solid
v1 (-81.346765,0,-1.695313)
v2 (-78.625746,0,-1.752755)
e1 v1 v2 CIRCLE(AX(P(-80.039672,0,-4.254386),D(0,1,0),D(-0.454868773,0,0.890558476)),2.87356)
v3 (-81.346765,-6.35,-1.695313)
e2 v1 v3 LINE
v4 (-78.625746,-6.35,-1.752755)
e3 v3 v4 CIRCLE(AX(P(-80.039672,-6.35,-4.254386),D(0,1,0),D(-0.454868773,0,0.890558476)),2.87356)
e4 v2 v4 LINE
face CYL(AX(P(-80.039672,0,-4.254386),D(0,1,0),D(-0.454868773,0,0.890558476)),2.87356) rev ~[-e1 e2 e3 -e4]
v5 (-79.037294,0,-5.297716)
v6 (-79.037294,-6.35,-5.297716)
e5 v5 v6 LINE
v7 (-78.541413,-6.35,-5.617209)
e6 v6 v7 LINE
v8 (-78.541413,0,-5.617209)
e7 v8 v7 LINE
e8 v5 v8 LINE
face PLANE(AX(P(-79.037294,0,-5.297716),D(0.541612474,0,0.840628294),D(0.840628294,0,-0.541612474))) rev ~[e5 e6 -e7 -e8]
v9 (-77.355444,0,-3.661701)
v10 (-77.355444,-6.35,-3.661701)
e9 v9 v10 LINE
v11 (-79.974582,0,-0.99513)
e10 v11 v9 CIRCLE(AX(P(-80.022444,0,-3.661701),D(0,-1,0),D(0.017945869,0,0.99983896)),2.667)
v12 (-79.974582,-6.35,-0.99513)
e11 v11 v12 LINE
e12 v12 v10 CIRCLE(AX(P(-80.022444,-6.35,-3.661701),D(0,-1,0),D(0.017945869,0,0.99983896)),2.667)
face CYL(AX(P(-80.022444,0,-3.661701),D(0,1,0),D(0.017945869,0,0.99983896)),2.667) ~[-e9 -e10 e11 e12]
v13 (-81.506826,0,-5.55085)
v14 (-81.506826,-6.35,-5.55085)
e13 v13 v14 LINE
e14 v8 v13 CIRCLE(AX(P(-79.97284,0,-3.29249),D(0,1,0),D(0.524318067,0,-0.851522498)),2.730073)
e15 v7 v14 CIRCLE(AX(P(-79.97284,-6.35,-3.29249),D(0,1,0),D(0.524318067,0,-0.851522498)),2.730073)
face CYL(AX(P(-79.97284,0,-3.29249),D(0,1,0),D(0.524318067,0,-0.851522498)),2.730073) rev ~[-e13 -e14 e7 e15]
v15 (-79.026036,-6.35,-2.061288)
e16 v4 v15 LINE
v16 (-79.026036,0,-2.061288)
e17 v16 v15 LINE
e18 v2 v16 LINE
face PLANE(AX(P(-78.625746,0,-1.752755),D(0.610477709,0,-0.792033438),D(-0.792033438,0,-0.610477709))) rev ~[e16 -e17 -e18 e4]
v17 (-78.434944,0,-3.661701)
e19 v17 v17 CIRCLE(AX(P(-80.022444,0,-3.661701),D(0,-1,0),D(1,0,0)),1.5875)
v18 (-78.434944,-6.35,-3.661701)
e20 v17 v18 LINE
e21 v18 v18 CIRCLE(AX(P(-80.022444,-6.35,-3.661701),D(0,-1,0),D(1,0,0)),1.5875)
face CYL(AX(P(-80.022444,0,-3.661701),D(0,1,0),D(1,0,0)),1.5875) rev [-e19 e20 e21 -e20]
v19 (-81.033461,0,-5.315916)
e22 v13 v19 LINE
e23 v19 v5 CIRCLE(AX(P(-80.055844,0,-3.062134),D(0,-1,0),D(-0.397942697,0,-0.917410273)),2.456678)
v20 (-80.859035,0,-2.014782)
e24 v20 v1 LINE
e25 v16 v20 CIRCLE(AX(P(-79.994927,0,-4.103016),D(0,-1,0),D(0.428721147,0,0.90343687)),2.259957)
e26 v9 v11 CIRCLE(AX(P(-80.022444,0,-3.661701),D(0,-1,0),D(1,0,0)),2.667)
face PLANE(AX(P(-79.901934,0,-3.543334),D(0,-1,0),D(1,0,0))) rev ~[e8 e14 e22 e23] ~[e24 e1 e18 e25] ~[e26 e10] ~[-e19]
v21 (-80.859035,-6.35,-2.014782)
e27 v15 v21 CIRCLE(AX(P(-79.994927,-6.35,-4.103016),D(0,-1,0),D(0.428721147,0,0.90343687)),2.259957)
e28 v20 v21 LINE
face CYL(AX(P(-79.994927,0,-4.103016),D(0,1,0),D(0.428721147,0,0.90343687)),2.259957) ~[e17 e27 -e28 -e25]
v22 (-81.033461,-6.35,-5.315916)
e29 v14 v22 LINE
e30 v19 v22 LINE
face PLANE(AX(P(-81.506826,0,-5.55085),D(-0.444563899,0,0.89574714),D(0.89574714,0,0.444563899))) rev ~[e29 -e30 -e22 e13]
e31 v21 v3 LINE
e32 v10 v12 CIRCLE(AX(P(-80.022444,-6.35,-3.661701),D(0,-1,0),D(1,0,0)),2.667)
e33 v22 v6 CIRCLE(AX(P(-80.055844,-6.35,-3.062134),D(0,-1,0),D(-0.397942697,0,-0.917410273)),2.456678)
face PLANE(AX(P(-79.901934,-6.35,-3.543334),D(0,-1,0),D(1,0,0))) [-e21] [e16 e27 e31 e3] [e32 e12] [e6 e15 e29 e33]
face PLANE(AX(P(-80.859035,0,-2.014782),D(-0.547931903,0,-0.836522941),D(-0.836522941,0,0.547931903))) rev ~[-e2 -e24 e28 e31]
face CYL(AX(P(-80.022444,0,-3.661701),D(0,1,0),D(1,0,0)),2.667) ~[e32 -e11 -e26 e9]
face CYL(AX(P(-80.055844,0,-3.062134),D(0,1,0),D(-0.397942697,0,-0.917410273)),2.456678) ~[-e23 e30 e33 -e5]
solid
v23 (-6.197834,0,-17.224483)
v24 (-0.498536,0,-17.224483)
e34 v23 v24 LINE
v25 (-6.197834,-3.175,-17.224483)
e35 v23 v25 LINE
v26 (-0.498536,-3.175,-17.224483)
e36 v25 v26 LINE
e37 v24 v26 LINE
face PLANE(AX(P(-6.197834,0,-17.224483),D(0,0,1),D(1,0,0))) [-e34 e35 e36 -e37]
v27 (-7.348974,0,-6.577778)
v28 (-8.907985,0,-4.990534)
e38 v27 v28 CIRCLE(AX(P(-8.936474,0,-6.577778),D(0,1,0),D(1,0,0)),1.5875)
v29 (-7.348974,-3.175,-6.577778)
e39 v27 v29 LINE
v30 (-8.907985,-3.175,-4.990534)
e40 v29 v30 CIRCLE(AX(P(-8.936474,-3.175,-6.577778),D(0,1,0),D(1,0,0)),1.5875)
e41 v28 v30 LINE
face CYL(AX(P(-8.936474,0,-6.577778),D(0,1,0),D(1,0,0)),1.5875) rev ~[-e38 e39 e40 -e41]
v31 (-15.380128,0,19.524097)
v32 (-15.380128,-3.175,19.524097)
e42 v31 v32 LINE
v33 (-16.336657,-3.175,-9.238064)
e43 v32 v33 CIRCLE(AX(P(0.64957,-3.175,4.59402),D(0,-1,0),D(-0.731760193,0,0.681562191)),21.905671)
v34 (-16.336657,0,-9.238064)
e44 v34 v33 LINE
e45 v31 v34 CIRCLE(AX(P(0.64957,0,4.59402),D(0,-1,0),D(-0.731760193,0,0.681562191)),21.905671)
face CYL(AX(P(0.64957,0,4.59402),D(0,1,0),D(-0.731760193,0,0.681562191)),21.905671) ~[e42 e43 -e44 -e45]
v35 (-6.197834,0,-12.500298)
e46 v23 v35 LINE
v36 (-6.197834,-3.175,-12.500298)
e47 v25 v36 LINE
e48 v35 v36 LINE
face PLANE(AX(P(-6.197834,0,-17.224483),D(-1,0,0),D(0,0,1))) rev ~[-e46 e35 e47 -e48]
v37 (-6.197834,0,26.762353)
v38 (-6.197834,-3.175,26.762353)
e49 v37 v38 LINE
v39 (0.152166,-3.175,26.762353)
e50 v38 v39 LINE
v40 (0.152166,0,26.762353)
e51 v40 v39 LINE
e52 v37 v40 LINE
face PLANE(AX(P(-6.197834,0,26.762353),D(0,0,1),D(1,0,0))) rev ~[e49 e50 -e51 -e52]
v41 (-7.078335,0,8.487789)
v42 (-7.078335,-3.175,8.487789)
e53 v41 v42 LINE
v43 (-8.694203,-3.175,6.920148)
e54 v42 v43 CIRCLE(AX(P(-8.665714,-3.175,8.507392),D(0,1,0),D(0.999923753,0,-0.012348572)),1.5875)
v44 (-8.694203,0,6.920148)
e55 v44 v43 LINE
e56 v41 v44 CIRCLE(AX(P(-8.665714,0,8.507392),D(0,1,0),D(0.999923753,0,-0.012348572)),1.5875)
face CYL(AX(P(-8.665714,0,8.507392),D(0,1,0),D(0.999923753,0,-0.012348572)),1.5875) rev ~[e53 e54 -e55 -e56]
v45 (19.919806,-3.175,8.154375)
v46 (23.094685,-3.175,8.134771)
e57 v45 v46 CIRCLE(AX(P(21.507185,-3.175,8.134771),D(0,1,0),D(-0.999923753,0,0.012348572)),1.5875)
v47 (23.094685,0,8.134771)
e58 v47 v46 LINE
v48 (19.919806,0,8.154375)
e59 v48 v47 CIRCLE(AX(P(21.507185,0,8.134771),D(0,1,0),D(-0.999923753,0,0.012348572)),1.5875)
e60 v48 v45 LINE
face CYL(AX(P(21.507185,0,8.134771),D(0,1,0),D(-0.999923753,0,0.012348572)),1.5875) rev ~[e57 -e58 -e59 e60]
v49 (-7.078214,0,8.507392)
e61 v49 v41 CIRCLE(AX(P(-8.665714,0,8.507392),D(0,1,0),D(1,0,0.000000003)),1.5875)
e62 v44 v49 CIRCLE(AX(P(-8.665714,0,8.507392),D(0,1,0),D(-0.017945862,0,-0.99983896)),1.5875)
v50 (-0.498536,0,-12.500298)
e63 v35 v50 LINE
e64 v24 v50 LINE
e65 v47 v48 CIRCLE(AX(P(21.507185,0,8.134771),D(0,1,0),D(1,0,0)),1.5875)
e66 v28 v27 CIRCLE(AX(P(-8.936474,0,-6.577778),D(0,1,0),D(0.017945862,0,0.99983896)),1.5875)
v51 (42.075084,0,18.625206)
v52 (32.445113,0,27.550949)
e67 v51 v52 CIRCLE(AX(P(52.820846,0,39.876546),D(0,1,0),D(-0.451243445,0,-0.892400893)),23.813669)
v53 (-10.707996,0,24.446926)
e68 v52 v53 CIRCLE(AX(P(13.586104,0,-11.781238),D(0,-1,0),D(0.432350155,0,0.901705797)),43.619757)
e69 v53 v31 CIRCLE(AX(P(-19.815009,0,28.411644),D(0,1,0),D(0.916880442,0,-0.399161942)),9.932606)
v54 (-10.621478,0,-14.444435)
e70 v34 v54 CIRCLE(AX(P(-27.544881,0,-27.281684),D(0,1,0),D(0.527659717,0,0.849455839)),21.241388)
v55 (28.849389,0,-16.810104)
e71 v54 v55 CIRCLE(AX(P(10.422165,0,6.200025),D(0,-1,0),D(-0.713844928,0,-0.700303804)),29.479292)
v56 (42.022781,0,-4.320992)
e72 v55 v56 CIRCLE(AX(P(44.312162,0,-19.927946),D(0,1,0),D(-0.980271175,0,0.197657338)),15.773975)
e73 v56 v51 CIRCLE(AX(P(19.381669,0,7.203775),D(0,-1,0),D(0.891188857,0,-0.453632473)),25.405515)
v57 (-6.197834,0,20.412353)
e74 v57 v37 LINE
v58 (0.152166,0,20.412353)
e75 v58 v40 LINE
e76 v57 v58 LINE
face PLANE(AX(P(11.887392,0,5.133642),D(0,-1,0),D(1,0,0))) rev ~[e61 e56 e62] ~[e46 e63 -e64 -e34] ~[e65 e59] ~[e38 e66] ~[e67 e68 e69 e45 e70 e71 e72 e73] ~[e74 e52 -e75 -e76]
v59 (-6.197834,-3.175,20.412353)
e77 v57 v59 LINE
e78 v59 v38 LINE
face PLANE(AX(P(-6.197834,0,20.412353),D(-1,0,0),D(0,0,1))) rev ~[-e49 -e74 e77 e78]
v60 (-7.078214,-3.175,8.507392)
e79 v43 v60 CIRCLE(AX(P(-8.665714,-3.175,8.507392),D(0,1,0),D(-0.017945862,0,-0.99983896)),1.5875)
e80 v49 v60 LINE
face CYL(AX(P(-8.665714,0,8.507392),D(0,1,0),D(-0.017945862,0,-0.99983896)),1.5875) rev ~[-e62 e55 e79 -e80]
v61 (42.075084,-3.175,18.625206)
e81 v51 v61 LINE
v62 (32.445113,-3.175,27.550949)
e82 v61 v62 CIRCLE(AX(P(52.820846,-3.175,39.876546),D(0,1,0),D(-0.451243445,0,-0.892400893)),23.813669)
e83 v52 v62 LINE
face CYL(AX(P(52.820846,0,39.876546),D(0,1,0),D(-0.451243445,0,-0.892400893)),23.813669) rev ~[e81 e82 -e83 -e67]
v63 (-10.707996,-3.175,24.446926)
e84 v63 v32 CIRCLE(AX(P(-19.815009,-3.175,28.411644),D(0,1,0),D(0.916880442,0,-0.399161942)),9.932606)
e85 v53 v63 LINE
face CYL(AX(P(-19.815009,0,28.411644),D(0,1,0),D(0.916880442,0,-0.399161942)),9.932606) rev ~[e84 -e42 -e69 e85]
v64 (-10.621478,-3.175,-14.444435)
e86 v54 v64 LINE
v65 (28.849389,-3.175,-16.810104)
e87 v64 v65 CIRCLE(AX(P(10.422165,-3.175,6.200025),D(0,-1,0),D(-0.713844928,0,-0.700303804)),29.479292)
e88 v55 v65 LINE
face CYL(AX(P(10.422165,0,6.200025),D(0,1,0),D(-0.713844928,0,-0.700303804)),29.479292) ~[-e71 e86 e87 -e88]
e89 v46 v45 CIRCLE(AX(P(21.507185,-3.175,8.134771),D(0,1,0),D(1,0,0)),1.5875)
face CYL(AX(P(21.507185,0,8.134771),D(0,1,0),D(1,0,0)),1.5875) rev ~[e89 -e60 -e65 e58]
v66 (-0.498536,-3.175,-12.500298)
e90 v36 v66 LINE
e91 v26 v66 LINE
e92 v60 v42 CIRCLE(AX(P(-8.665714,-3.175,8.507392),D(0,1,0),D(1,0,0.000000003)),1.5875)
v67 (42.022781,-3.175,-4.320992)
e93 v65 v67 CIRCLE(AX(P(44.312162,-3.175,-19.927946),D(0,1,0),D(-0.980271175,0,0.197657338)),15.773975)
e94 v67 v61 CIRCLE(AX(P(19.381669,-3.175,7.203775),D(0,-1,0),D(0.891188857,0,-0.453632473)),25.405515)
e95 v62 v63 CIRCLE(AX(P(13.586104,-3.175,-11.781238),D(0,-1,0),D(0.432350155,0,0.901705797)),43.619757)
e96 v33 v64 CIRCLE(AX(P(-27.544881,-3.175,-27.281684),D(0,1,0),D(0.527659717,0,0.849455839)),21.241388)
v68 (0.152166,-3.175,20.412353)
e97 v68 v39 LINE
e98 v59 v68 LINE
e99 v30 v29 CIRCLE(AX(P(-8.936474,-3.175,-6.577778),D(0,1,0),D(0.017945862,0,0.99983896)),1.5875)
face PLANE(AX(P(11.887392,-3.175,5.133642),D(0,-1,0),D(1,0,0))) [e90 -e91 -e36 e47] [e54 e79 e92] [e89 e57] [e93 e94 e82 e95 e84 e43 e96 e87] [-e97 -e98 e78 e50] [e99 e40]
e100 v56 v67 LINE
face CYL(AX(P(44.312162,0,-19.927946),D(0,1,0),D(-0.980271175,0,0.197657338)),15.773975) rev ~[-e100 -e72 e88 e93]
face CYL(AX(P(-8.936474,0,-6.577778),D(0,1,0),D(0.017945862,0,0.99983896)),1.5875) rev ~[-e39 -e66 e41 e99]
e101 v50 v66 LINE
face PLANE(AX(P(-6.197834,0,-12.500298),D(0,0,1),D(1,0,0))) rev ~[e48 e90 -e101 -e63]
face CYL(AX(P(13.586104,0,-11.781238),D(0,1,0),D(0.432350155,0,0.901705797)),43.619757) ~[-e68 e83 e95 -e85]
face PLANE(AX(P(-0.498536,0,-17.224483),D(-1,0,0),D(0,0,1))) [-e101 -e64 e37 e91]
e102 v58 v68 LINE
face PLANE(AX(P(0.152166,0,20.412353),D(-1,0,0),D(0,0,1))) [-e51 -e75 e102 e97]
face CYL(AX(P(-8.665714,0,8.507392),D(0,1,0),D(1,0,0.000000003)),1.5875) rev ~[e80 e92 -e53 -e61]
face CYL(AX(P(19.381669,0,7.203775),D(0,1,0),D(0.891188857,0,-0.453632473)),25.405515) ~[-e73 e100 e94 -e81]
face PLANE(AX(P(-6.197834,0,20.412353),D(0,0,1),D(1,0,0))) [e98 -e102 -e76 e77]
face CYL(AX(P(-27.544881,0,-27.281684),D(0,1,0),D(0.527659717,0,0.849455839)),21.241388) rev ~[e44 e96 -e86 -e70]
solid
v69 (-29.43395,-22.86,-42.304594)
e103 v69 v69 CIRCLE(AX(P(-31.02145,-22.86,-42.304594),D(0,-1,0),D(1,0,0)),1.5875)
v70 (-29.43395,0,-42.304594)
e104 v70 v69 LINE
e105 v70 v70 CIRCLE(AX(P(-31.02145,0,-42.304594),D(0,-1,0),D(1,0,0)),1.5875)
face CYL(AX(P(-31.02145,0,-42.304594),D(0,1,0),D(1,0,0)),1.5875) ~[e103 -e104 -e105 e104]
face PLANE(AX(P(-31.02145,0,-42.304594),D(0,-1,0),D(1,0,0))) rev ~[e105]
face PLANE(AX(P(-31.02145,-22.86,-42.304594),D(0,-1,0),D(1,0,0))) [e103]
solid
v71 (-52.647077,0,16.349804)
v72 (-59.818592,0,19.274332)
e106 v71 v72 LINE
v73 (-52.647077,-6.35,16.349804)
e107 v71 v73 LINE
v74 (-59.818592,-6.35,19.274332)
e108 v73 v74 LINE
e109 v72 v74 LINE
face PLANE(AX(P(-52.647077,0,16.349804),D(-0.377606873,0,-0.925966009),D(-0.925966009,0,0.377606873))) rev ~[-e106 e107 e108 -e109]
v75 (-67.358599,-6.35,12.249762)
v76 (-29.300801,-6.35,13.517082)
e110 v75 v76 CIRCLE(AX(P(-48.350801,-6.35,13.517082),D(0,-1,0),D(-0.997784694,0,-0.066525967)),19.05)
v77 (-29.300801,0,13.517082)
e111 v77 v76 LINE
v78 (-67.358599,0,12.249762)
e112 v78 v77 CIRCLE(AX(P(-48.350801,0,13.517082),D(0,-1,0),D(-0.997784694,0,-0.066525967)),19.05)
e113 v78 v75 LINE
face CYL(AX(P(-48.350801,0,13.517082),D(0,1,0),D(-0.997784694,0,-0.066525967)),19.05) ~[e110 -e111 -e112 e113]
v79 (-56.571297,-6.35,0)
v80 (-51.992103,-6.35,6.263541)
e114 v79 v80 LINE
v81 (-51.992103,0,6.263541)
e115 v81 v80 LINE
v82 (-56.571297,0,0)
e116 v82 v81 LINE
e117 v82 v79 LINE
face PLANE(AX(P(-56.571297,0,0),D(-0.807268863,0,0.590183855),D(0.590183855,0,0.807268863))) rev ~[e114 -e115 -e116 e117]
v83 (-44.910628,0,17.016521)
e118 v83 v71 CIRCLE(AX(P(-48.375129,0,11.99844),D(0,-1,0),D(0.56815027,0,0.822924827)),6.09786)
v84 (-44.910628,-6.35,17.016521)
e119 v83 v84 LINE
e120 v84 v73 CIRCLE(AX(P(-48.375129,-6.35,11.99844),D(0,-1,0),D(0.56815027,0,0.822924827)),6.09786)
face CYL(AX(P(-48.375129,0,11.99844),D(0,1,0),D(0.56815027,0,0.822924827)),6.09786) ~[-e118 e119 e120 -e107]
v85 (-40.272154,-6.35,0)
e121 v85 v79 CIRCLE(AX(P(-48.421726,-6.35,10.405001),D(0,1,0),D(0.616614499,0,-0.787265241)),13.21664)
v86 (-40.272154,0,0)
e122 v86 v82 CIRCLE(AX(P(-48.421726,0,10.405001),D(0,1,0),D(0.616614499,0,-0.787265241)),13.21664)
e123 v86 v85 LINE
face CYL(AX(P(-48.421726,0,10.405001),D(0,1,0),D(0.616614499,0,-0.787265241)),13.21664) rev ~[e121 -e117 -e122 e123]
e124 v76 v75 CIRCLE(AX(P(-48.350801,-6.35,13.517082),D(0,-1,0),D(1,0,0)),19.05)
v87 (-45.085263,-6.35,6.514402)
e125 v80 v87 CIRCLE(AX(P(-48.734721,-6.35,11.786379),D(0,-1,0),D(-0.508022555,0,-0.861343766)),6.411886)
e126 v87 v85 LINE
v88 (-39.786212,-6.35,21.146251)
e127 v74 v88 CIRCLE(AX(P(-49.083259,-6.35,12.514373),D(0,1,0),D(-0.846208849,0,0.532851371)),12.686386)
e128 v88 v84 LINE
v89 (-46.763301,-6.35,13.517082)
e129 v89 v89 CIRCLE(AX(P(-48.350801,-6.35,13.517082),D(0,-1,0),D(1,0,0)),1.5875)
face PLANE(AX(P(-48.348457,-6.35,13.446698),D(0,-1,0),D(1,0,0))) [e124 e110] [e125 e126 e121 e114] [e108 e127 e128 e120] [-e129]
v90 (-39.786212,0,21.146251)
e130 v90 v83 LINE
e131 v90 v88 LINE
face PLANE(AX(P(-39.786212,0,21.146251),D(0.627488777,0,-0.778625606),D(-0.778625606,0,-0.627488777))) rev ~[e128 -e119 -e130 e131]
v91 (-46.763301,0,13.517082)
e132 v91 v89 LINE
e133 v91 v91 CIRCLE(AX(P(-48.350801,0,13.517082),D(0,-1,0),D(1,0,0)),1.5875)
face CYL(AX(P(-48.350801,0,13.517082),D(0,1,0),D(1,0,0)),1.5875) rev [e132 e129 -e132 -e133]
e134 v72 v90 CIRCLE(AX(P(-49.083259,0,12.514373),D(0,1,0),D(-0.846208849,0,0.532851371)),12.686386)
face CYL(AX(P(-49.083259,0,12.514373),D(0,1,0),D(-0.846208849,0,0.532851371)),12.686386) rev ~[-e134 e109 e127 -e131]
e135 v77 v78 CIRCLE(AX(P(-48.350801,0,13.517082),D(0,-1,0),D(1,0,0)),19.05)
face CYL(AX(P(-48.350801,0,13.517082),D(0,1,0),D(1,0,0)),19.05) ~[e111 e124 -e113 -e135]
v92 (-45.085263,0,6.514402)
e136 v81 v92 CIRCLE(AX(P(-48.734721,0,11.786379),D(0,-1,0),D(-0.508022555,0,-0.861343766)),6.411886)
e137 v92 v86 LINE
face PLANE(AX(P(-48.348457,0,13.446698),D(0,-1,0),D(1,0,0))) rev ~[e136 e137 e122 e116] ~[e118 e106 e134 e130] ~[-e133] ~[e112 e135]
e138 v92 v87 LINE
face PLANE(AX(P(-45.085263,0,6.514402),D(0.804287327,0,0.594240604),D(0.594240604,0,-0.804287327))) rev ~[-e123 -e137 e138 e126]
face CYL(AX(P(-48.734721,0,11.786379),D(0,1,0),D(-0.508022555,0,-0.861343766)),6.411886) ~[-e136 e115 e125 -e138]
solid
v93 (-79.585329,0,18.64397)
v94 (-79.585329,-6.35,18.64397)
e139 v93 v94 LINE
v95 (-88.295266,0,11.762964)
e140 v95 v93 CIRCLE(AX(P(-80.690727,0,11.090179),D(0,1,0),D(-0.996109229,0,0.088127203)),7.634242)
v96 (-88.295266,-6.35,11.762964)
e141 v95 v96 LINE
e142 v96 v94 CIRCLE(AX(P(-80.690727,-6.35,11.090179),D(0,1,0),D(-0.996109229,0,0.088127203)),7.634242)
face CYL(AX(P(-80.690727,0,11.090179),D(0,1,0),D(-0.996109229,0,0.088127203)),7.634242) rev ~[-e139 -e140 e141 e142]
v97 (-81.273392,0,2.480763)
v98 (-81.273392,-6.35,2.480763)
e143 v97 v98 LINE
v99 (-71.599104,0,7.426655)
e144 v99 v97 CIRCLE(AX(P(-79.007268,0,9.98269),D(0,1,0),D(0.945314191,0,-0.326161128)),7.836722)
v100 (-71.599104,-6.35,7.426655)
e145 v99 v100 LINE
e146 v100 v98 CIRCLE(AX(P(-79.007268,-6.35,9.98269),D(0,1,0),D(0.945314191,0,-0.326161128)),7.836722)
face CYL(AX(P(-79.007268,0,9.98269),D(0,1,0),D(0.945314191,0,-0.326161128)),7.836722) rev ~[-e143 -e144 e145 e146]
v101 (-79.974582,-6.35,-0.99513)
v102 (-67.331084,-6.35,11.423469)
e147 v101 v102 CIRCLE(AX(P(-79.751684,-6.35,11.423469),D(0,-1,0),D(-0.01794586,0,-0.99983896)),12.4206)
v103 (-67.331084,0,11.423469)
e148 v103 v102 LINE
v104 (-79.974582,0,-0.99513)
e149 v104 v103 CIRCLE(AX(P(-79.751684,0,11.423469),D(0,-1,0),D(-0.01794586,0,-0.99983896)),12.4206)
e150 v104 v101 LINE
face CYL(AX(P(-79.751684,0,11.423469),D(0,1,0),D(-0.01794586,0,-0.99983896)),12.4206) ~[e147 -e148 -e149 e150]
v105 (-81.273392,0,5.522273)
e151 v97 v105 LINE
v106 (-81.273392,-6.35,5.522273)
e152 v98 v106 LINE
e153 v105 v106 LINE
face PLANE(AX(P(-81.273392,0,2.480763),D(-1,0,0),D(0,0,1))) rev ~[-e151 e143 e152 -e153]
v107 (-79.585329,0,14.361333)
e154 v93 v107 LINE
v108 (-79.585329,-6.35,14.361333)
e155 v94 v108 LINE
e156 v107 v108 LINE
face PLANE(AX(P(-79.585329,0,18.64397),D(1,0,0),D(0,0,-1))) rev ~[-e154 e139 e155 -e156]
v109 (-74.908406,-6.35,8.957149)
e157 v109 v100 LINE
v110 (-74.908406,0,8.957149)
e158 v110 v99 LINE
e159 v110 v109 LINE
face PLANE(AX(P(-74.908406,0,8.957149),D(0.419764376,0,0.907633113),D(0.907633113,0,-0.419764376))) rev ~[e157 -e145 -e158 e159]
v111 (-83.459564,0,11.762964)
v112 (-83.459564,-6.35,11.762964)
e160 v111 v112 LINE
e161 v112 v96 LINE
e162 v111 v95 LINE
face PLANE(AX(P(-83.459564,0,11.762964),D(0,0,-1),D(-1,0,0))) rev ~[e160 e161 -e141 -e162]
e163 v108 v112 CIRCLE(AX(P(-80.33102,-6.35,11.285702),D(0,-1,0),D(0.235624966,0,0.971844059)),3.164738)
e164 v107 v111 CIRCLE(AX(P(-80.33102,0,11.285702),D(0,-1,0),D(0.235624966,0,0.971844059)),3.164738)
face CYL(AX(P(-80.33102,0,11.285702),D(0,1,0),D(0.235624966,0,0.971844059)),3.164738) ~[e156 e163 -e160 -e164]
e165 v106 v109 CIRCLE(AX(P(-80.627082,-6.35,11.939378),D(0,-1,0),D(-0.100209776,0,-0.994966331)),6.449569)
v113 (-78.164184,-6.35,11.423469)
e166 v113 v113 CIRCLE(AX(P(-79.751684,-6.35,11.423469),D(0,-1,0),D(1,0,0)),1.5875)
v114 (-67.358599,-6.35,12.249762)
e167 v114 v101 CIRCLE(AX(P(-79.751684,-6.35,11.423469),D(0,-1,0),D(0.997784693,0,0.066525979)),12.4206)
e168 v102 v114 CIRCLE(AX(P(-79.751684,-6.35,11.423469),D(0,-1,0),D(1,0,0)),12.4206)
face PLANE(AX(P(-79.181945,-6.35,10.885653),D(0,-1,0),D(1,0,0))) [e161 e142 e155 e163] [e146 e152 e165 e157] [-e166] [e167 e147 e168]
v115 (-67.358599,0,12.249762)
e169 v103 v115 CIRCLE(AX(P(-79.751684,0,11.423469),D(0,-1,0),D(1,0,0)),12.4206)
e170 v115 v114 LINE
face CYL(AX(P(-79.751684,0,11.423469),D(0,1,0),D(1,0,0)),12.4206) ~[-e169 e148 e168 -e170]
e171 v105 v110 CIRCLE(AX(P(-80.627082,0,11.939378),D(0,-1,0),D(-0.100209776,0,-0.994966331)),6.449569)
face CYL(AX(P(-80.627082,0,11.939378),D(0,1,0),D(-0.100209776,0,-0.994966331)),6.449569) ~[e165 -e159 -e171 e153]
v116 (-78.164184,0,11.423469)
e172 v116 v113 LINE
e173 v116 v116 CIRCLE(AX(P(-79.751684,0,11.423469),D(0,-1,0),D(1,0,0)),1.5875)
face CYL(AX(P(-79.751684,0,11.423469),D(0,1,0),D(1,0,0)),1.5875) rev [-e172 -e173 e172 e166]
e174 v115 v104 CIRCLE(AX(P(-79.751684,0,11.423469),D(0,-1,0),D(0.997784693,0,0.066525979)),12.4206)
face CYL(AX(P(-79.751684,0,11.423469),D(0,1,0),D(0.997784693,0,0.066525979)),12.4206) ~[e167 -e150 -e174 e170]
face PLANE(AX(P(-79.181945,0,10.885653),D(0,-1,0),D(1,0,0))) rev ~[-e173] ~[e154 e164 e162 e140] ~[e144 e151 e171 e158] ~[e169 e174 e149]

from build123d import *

# Parameters (mm, degrees)
F0_R     = 1.5875
F1_DEPTH = 6.35
F0_W     = 5.6992975482
F0_H     = 4.7241855249
F0_W_2   = 6.35
F0_H_2   = 6.35
F2_DEPTH = 3.175
F3_DEPTH = 22.86


with BuildPart() as f1:
    # F0 (on Front) → F1 (new body)
    with BuildSketch(Plane.XZ):
        with BuildLine():
            ThreePointArc((-67.3585994082, 12.2497619586), (-47.7167899216, -5.5223650535), (-29.3008009861, 13.5170816288))
            ThreePointArc((-29.3008009861, 13.5170816289), (-48.9848120507, 32.5565283112), (-67.3585994082, 12.2497619586))
        make_face()
        with BuildLine():
            Line((-56.5712973475, 0), (-51.9921034575, 6.2635407752))
            ThreePointArc((-51.9921034575, 6.2635407752), (-48.5019898602, 5.3787178579), (-45.0852625072, 6.5144021064))
            Line((-45.0852625072, 6.5144021064), (-40.272153914, 0))
            ThreePointArc((-40.272153914, 0), (-48.4217256308, -2.8116386768), (-56.5712973475, 0))
        make_face(mode=Mode.SUBTRACT)
        with Locations((-48.3508009861, 13.5170816289)):
            Circle(F0_R, mode=Mode.SUBTRACT)
        with BuildLine():
            Line((-52.6470765471, 16.3498036563), (-59.8185919225, 19.2743316293))
            ThreePointArc((-59.8185919225, 19.2743316293), (-50.2635926632, 25.1457315984), (-39.7862121463, 21.1462508887))
            Line((-39.7862121463, 21.1462508887), (-44.9106283486, 17.0165207237))
            ThreePointArc((-44.9106283486, 17.0165207237), (-48.8986942592, 18.0737820053), (-52.6470765471, 16.3498036563))
        make_face(mode=Mode.SUBTRACT)
    extrude(amount=F1_DEPTH)


with BuildPart() as f1b:
    # F0 (on Front) → F1, piece 2 (new body)
    with BuildSketch(Plane.XZ):
        with BuildLine():
            ThreePointArc((-67.3310839693, 11.423469383), (-67.337964735, 11.8368446725), (-67.3585994082, 12.2497619586))
            ThreePointArc((-67.3585994082, 12.2497619586), (-88.7453012362, 19.9900412071), (-79.9745823175, -0.9951304046))
            ThreePointArc((-79.9745823175, -0.9951304046), (-71.0481567207, 2.562322855), (-67.3310839693, 11.423469383))
        make_face()
        with BuildLine():
            Line((-81.2733918428, 2.4807630107), (-81.2733918428, 5.5222734809))
            ThreePointArc((-81.2733918428, 5.5222734809), (-77.5641064708, 6.2635407752), (-74.9084055424, 8.9571494609))
            Line((-74.9084055424, 8.9571494609), (-71.5991035104, 7.4266553856))
            ThreePointArc((-71.5991035104, 7.4266553856), (-75.4399710481, 3.004967367), (-81.2733918428, 2.4807630107))
        make_face(mode=Mode.SUBTRACT)
        with Locations((-79.7516839693, 11.423469383)):
            Circle(F0_R, mode=Mode.SUBTRACT)
        with BuildLine():
            Line((-83.4595635533, 11.7629636079), (-88.2952660322, 11.7629636079))
            ThreePointArc((-88.2952660322, 11.7629636079), (-85.4232493823, 17.0805786516), (-79.5853286982, 18.6439696699))
            Line((-79.5853286982, 18.6439696699), (-79.5853286982, 14.361333102))
            ThreePointArc((-79.5853286982, 14.361333102), (-82.0937953984, 13.9140446197), (-83.4595635533, 11.7629636079))
        make_face(mode=Mode.SUBTRACT)
    extrude(amount=F1_DEPTH)


with BuildPart() as f1c:
    # F0 (on Front) → F1, piece 3 (new body)
    with BuildSketch(Plane.XZ):
        with BuildLine():
            ThreePointArc((-77.3554439497, -3.6617009108), (-78.1197437667, -1.792845375), (-79.9745823175, -0.9951304046))
            ThreePointArc((-79.9745823175, -0.9951304046), (-81.9251441328, -5.5305564465), (-77.3554439497, -3.6617009108))
        make_face()
        with BuildLine():
            Line((-81.5068259835, -5.5508497171), (-81.0334607959, -5.3159161471))
            ThreePointArc((-81.0334607959, -5.3159161471), (-80.0334453121, -5.5187104426), (-79.0372937918, -5.2977157757))
            Line((-79.0372937918, -5.2977157757), (-78.5414129496, -5.6172092445))
            ThreePointArc((-78.5414129496, -5.6172092445), (-80.0339176232, -6.0218804194), (-81.5068259835, -5.5508497171))
        make_face(mode=Mode.SUBTRACT)
        with Locations((-80.0224439497, -3.6617009108)):
            Circle(F0_R, mode=Mode.SUBTRACT)
        with BuildLine():
            Line((-80.8590352535, -2.0147818141), (-81.3467651606, -1.6953132581))
            ThreePointArc((-81.3467651606, -1.6953132581), (-79.979023866, -1.3814665574), (-78.6257460713, -1.752755139))
            Line((-78.6257460713, -1.752755139), (-79.0260359645, -2.0612876397))
            ThreePointArc((-79.0260359645, -2.0612876397), (-79.9376072444, -1.8437861853), (-80.8590352535, -2.0147818141))
        make_face(mode=Mode.SUBTRACT)
    extrude(amount=F1_DEPTH)


with BuildPart() as f2:
    # F0 (on Front) → F2 (new body)
    with BuildSketch(Plane.XZ):
        with BuildLine():
            ThreePointArc((-16.336656812, -9.2380635097), (-13.2402074156, -11.5790459327), (-10.621478104, -14.4444349746))
            ThreePointArc((-10.621478104, -14.4444349746), (8.6585009426, -23.2264616755), (28.849388551, -16.8101042509))
            ThreePointArc((28.849388551, -16.8101042509), (33.4595478462, -8.4807166781), (42.0227806245, -4.3209918733))
            ThreePointArc((42.0227806245, -4.3209918733), (44.7871177092, 7.1458658353), (42.0750837904, 18.6252062889))
            ThreePointArc((42.0750837904, 18.6252062889), (36.6327610513, 22.4112446581), (32.4451126099, 27.5509493053))
            ThreePointArc((32.4451126099, 27.5509493053), (10.4566000096, 31.7261104258), (-10.7079961448, 24.4469259678))
            ThreePointArc((-10.7079961448, 24.4469259678), (-12.6105462262, 21.574072454), (-15.3801280942, 19.5240967466))
            ThreePointArc((-15.3801280942, 19.5240967466), (-21.2439973275, 5.3221229748), (-16.336656812, -9.2380635097))
        make_face()
        with BuildLine():
            ThreePointArc((-4.9677237983, -6.5777782366), (-11.76787287, -9.3588132704), (-8.8652511603, -2.6096673639))
            ThreePointArc((-8.8652511603, -2.6096673639), (-6.1050747266, -3.7967432029), (-4.9677237983, -6.5777782366))
        make_face(mode=Mode.SUBTRACT)
        with Locations((-3.3481849043, -14.8623904295)):
            Rectangle(F0_W, F0_H, mode=Mode.SUBTRACT)
        with BuildLine():
            ThreePointArc((0.0655361821, 8.5073920572), (0.0653697487, 8.4534817934), (0.0648704546, 8.3995735849))
            ThreePointArc((0.0648704546, 8.3995735849), (-2.5860142121, 2.2406561232), (-8.8224036214, -0.2224518629))
            ThreePointArc((-8.8224036214, -0.2224518629), (-14.7839908922, 14.736470015), (0.0655361821, 8.5073920572))
        make_face(mode=Mode.SUBTRACT)
        with BuildLine():
            ThreePointArc((3.2586769194, 8.3601316274), (21.6198676811, 26.3843235408), (39.7570854279, 8.134771417))
            ThreePointArc((39.7570854279, 8.134771417), (21.3945031748, -10.1147807068), (3.2586769194, 8.3601316274))
        make_face(mode=Mode.SUBTRACT)
        with Locations((-3.0228336784, 23.5873528674)):
            Rectangle(F0_W_2, F0_H_2, mode=Mode.SUBTRACT)
        with BuildLine():
            ThreePointArc((3.2586769194, 8.3601316274), (21.3945031748, -10.1147807068), (39.7570854279, 8.134771417))
            ThreePointArc((39.7570854279, 8.134771417), (21.6198676811, 26.3843235408), (3.2586769194, 8.3601316274))
        make_face()
        with BuildLine():
            ThreePointArc((23.0946854279, 8.134771417), (21.4973835618, 6.5473016776), (19.9198064693, 8.1543747756))
            ThreePointArc((19.9198064693, 8.1543747756), (21.5169872941, 9.7222411564), (23.0946854279, 8.134771417))
        make_face(mode=Mode.SUBTRACT)
        with BuildLine():
            Line((-7.0783348592, 8.4877886986), (0.0648704546, 8.3995735849))
            ThreePointArc((0.0648704546, 8.3995735849), (0.0653697487, 8.4534817934), (0.0655361821, 8.5073920572))
            ThreePointArc((0.0655361821, 8.5073920572), (-14.7839908922, 14.736470015), (-8.8224036214, -0.2224518629))
            Line((-8.8224036214, -0.2224518629), (-8.6942028731, 6.9201477081))
            ThreePointArc((-8.6942028731, 6.9201477081), (-9.7781278314, 9.6399516859), (-7.0782138179, 8.5073920572))
            ThreePointArc((-7.0782138179, 8.5073920572), (-7.0782440785, 8.497590191), (-7.0783348592, 8.4877886986))
        make_face()
        with BuildLine():
            ThreePointArc((-8.8224036214, -0.2224518629), (-2.5860142121, 2.2406561232), (0.0648704546, 8.3995735849))
            Line((0.0648704546, 8.3995735849), (-7.0783348592, 8.4877886986))
            ThreePointArc((-7.0783348592, 8.4877886986), (-7.5603138895, 7.3679855237), (-8.6942028731, 6.9201477081))
            Line((-8.6942028731, 6.9201477081), (-8.8224036214, -0.2224518629))
        make_face()
        with BuildLine():
            ThreePointArc((-4.9677237983, -6.5777782366), (-6.1050747266, -3.7967432029), (-8.8652511603, -2.6096673639))
            ThreePointArc((-8.8652511603, -2.6096673639), (-11.76787287, -9.3588132704), (-4.9677237983, -6.5777782366))
        make_face()
        with BuildLine():
            ThreePointArc((-7.3489737983, -6.5777782366), (-10.069033427, -7.6901922502), (-8.9079847431, -4.9905338875))
            ThreePointArc((-8.9079847431, -4.9905338875), (-7.8039141696, -5.4653642231), (-7.3489737983, -6.5777782366))
        make_face(mode=Mode.SUBTRACT)
    extrude(amount=F2_DEPTH)


with BuildPart() as f3:
    # F0 (on Front) → F3 (new body)
    with BuildSketch(Plane.XZ):
        with Locations((-31.0214497149, -42.3045940697)):
            Circle(F0_R)
    extrude(amount=F3_DEPTH)


solid = Compound([f1.part, f1b.part, f1c.part, f2.part, f3.part])
